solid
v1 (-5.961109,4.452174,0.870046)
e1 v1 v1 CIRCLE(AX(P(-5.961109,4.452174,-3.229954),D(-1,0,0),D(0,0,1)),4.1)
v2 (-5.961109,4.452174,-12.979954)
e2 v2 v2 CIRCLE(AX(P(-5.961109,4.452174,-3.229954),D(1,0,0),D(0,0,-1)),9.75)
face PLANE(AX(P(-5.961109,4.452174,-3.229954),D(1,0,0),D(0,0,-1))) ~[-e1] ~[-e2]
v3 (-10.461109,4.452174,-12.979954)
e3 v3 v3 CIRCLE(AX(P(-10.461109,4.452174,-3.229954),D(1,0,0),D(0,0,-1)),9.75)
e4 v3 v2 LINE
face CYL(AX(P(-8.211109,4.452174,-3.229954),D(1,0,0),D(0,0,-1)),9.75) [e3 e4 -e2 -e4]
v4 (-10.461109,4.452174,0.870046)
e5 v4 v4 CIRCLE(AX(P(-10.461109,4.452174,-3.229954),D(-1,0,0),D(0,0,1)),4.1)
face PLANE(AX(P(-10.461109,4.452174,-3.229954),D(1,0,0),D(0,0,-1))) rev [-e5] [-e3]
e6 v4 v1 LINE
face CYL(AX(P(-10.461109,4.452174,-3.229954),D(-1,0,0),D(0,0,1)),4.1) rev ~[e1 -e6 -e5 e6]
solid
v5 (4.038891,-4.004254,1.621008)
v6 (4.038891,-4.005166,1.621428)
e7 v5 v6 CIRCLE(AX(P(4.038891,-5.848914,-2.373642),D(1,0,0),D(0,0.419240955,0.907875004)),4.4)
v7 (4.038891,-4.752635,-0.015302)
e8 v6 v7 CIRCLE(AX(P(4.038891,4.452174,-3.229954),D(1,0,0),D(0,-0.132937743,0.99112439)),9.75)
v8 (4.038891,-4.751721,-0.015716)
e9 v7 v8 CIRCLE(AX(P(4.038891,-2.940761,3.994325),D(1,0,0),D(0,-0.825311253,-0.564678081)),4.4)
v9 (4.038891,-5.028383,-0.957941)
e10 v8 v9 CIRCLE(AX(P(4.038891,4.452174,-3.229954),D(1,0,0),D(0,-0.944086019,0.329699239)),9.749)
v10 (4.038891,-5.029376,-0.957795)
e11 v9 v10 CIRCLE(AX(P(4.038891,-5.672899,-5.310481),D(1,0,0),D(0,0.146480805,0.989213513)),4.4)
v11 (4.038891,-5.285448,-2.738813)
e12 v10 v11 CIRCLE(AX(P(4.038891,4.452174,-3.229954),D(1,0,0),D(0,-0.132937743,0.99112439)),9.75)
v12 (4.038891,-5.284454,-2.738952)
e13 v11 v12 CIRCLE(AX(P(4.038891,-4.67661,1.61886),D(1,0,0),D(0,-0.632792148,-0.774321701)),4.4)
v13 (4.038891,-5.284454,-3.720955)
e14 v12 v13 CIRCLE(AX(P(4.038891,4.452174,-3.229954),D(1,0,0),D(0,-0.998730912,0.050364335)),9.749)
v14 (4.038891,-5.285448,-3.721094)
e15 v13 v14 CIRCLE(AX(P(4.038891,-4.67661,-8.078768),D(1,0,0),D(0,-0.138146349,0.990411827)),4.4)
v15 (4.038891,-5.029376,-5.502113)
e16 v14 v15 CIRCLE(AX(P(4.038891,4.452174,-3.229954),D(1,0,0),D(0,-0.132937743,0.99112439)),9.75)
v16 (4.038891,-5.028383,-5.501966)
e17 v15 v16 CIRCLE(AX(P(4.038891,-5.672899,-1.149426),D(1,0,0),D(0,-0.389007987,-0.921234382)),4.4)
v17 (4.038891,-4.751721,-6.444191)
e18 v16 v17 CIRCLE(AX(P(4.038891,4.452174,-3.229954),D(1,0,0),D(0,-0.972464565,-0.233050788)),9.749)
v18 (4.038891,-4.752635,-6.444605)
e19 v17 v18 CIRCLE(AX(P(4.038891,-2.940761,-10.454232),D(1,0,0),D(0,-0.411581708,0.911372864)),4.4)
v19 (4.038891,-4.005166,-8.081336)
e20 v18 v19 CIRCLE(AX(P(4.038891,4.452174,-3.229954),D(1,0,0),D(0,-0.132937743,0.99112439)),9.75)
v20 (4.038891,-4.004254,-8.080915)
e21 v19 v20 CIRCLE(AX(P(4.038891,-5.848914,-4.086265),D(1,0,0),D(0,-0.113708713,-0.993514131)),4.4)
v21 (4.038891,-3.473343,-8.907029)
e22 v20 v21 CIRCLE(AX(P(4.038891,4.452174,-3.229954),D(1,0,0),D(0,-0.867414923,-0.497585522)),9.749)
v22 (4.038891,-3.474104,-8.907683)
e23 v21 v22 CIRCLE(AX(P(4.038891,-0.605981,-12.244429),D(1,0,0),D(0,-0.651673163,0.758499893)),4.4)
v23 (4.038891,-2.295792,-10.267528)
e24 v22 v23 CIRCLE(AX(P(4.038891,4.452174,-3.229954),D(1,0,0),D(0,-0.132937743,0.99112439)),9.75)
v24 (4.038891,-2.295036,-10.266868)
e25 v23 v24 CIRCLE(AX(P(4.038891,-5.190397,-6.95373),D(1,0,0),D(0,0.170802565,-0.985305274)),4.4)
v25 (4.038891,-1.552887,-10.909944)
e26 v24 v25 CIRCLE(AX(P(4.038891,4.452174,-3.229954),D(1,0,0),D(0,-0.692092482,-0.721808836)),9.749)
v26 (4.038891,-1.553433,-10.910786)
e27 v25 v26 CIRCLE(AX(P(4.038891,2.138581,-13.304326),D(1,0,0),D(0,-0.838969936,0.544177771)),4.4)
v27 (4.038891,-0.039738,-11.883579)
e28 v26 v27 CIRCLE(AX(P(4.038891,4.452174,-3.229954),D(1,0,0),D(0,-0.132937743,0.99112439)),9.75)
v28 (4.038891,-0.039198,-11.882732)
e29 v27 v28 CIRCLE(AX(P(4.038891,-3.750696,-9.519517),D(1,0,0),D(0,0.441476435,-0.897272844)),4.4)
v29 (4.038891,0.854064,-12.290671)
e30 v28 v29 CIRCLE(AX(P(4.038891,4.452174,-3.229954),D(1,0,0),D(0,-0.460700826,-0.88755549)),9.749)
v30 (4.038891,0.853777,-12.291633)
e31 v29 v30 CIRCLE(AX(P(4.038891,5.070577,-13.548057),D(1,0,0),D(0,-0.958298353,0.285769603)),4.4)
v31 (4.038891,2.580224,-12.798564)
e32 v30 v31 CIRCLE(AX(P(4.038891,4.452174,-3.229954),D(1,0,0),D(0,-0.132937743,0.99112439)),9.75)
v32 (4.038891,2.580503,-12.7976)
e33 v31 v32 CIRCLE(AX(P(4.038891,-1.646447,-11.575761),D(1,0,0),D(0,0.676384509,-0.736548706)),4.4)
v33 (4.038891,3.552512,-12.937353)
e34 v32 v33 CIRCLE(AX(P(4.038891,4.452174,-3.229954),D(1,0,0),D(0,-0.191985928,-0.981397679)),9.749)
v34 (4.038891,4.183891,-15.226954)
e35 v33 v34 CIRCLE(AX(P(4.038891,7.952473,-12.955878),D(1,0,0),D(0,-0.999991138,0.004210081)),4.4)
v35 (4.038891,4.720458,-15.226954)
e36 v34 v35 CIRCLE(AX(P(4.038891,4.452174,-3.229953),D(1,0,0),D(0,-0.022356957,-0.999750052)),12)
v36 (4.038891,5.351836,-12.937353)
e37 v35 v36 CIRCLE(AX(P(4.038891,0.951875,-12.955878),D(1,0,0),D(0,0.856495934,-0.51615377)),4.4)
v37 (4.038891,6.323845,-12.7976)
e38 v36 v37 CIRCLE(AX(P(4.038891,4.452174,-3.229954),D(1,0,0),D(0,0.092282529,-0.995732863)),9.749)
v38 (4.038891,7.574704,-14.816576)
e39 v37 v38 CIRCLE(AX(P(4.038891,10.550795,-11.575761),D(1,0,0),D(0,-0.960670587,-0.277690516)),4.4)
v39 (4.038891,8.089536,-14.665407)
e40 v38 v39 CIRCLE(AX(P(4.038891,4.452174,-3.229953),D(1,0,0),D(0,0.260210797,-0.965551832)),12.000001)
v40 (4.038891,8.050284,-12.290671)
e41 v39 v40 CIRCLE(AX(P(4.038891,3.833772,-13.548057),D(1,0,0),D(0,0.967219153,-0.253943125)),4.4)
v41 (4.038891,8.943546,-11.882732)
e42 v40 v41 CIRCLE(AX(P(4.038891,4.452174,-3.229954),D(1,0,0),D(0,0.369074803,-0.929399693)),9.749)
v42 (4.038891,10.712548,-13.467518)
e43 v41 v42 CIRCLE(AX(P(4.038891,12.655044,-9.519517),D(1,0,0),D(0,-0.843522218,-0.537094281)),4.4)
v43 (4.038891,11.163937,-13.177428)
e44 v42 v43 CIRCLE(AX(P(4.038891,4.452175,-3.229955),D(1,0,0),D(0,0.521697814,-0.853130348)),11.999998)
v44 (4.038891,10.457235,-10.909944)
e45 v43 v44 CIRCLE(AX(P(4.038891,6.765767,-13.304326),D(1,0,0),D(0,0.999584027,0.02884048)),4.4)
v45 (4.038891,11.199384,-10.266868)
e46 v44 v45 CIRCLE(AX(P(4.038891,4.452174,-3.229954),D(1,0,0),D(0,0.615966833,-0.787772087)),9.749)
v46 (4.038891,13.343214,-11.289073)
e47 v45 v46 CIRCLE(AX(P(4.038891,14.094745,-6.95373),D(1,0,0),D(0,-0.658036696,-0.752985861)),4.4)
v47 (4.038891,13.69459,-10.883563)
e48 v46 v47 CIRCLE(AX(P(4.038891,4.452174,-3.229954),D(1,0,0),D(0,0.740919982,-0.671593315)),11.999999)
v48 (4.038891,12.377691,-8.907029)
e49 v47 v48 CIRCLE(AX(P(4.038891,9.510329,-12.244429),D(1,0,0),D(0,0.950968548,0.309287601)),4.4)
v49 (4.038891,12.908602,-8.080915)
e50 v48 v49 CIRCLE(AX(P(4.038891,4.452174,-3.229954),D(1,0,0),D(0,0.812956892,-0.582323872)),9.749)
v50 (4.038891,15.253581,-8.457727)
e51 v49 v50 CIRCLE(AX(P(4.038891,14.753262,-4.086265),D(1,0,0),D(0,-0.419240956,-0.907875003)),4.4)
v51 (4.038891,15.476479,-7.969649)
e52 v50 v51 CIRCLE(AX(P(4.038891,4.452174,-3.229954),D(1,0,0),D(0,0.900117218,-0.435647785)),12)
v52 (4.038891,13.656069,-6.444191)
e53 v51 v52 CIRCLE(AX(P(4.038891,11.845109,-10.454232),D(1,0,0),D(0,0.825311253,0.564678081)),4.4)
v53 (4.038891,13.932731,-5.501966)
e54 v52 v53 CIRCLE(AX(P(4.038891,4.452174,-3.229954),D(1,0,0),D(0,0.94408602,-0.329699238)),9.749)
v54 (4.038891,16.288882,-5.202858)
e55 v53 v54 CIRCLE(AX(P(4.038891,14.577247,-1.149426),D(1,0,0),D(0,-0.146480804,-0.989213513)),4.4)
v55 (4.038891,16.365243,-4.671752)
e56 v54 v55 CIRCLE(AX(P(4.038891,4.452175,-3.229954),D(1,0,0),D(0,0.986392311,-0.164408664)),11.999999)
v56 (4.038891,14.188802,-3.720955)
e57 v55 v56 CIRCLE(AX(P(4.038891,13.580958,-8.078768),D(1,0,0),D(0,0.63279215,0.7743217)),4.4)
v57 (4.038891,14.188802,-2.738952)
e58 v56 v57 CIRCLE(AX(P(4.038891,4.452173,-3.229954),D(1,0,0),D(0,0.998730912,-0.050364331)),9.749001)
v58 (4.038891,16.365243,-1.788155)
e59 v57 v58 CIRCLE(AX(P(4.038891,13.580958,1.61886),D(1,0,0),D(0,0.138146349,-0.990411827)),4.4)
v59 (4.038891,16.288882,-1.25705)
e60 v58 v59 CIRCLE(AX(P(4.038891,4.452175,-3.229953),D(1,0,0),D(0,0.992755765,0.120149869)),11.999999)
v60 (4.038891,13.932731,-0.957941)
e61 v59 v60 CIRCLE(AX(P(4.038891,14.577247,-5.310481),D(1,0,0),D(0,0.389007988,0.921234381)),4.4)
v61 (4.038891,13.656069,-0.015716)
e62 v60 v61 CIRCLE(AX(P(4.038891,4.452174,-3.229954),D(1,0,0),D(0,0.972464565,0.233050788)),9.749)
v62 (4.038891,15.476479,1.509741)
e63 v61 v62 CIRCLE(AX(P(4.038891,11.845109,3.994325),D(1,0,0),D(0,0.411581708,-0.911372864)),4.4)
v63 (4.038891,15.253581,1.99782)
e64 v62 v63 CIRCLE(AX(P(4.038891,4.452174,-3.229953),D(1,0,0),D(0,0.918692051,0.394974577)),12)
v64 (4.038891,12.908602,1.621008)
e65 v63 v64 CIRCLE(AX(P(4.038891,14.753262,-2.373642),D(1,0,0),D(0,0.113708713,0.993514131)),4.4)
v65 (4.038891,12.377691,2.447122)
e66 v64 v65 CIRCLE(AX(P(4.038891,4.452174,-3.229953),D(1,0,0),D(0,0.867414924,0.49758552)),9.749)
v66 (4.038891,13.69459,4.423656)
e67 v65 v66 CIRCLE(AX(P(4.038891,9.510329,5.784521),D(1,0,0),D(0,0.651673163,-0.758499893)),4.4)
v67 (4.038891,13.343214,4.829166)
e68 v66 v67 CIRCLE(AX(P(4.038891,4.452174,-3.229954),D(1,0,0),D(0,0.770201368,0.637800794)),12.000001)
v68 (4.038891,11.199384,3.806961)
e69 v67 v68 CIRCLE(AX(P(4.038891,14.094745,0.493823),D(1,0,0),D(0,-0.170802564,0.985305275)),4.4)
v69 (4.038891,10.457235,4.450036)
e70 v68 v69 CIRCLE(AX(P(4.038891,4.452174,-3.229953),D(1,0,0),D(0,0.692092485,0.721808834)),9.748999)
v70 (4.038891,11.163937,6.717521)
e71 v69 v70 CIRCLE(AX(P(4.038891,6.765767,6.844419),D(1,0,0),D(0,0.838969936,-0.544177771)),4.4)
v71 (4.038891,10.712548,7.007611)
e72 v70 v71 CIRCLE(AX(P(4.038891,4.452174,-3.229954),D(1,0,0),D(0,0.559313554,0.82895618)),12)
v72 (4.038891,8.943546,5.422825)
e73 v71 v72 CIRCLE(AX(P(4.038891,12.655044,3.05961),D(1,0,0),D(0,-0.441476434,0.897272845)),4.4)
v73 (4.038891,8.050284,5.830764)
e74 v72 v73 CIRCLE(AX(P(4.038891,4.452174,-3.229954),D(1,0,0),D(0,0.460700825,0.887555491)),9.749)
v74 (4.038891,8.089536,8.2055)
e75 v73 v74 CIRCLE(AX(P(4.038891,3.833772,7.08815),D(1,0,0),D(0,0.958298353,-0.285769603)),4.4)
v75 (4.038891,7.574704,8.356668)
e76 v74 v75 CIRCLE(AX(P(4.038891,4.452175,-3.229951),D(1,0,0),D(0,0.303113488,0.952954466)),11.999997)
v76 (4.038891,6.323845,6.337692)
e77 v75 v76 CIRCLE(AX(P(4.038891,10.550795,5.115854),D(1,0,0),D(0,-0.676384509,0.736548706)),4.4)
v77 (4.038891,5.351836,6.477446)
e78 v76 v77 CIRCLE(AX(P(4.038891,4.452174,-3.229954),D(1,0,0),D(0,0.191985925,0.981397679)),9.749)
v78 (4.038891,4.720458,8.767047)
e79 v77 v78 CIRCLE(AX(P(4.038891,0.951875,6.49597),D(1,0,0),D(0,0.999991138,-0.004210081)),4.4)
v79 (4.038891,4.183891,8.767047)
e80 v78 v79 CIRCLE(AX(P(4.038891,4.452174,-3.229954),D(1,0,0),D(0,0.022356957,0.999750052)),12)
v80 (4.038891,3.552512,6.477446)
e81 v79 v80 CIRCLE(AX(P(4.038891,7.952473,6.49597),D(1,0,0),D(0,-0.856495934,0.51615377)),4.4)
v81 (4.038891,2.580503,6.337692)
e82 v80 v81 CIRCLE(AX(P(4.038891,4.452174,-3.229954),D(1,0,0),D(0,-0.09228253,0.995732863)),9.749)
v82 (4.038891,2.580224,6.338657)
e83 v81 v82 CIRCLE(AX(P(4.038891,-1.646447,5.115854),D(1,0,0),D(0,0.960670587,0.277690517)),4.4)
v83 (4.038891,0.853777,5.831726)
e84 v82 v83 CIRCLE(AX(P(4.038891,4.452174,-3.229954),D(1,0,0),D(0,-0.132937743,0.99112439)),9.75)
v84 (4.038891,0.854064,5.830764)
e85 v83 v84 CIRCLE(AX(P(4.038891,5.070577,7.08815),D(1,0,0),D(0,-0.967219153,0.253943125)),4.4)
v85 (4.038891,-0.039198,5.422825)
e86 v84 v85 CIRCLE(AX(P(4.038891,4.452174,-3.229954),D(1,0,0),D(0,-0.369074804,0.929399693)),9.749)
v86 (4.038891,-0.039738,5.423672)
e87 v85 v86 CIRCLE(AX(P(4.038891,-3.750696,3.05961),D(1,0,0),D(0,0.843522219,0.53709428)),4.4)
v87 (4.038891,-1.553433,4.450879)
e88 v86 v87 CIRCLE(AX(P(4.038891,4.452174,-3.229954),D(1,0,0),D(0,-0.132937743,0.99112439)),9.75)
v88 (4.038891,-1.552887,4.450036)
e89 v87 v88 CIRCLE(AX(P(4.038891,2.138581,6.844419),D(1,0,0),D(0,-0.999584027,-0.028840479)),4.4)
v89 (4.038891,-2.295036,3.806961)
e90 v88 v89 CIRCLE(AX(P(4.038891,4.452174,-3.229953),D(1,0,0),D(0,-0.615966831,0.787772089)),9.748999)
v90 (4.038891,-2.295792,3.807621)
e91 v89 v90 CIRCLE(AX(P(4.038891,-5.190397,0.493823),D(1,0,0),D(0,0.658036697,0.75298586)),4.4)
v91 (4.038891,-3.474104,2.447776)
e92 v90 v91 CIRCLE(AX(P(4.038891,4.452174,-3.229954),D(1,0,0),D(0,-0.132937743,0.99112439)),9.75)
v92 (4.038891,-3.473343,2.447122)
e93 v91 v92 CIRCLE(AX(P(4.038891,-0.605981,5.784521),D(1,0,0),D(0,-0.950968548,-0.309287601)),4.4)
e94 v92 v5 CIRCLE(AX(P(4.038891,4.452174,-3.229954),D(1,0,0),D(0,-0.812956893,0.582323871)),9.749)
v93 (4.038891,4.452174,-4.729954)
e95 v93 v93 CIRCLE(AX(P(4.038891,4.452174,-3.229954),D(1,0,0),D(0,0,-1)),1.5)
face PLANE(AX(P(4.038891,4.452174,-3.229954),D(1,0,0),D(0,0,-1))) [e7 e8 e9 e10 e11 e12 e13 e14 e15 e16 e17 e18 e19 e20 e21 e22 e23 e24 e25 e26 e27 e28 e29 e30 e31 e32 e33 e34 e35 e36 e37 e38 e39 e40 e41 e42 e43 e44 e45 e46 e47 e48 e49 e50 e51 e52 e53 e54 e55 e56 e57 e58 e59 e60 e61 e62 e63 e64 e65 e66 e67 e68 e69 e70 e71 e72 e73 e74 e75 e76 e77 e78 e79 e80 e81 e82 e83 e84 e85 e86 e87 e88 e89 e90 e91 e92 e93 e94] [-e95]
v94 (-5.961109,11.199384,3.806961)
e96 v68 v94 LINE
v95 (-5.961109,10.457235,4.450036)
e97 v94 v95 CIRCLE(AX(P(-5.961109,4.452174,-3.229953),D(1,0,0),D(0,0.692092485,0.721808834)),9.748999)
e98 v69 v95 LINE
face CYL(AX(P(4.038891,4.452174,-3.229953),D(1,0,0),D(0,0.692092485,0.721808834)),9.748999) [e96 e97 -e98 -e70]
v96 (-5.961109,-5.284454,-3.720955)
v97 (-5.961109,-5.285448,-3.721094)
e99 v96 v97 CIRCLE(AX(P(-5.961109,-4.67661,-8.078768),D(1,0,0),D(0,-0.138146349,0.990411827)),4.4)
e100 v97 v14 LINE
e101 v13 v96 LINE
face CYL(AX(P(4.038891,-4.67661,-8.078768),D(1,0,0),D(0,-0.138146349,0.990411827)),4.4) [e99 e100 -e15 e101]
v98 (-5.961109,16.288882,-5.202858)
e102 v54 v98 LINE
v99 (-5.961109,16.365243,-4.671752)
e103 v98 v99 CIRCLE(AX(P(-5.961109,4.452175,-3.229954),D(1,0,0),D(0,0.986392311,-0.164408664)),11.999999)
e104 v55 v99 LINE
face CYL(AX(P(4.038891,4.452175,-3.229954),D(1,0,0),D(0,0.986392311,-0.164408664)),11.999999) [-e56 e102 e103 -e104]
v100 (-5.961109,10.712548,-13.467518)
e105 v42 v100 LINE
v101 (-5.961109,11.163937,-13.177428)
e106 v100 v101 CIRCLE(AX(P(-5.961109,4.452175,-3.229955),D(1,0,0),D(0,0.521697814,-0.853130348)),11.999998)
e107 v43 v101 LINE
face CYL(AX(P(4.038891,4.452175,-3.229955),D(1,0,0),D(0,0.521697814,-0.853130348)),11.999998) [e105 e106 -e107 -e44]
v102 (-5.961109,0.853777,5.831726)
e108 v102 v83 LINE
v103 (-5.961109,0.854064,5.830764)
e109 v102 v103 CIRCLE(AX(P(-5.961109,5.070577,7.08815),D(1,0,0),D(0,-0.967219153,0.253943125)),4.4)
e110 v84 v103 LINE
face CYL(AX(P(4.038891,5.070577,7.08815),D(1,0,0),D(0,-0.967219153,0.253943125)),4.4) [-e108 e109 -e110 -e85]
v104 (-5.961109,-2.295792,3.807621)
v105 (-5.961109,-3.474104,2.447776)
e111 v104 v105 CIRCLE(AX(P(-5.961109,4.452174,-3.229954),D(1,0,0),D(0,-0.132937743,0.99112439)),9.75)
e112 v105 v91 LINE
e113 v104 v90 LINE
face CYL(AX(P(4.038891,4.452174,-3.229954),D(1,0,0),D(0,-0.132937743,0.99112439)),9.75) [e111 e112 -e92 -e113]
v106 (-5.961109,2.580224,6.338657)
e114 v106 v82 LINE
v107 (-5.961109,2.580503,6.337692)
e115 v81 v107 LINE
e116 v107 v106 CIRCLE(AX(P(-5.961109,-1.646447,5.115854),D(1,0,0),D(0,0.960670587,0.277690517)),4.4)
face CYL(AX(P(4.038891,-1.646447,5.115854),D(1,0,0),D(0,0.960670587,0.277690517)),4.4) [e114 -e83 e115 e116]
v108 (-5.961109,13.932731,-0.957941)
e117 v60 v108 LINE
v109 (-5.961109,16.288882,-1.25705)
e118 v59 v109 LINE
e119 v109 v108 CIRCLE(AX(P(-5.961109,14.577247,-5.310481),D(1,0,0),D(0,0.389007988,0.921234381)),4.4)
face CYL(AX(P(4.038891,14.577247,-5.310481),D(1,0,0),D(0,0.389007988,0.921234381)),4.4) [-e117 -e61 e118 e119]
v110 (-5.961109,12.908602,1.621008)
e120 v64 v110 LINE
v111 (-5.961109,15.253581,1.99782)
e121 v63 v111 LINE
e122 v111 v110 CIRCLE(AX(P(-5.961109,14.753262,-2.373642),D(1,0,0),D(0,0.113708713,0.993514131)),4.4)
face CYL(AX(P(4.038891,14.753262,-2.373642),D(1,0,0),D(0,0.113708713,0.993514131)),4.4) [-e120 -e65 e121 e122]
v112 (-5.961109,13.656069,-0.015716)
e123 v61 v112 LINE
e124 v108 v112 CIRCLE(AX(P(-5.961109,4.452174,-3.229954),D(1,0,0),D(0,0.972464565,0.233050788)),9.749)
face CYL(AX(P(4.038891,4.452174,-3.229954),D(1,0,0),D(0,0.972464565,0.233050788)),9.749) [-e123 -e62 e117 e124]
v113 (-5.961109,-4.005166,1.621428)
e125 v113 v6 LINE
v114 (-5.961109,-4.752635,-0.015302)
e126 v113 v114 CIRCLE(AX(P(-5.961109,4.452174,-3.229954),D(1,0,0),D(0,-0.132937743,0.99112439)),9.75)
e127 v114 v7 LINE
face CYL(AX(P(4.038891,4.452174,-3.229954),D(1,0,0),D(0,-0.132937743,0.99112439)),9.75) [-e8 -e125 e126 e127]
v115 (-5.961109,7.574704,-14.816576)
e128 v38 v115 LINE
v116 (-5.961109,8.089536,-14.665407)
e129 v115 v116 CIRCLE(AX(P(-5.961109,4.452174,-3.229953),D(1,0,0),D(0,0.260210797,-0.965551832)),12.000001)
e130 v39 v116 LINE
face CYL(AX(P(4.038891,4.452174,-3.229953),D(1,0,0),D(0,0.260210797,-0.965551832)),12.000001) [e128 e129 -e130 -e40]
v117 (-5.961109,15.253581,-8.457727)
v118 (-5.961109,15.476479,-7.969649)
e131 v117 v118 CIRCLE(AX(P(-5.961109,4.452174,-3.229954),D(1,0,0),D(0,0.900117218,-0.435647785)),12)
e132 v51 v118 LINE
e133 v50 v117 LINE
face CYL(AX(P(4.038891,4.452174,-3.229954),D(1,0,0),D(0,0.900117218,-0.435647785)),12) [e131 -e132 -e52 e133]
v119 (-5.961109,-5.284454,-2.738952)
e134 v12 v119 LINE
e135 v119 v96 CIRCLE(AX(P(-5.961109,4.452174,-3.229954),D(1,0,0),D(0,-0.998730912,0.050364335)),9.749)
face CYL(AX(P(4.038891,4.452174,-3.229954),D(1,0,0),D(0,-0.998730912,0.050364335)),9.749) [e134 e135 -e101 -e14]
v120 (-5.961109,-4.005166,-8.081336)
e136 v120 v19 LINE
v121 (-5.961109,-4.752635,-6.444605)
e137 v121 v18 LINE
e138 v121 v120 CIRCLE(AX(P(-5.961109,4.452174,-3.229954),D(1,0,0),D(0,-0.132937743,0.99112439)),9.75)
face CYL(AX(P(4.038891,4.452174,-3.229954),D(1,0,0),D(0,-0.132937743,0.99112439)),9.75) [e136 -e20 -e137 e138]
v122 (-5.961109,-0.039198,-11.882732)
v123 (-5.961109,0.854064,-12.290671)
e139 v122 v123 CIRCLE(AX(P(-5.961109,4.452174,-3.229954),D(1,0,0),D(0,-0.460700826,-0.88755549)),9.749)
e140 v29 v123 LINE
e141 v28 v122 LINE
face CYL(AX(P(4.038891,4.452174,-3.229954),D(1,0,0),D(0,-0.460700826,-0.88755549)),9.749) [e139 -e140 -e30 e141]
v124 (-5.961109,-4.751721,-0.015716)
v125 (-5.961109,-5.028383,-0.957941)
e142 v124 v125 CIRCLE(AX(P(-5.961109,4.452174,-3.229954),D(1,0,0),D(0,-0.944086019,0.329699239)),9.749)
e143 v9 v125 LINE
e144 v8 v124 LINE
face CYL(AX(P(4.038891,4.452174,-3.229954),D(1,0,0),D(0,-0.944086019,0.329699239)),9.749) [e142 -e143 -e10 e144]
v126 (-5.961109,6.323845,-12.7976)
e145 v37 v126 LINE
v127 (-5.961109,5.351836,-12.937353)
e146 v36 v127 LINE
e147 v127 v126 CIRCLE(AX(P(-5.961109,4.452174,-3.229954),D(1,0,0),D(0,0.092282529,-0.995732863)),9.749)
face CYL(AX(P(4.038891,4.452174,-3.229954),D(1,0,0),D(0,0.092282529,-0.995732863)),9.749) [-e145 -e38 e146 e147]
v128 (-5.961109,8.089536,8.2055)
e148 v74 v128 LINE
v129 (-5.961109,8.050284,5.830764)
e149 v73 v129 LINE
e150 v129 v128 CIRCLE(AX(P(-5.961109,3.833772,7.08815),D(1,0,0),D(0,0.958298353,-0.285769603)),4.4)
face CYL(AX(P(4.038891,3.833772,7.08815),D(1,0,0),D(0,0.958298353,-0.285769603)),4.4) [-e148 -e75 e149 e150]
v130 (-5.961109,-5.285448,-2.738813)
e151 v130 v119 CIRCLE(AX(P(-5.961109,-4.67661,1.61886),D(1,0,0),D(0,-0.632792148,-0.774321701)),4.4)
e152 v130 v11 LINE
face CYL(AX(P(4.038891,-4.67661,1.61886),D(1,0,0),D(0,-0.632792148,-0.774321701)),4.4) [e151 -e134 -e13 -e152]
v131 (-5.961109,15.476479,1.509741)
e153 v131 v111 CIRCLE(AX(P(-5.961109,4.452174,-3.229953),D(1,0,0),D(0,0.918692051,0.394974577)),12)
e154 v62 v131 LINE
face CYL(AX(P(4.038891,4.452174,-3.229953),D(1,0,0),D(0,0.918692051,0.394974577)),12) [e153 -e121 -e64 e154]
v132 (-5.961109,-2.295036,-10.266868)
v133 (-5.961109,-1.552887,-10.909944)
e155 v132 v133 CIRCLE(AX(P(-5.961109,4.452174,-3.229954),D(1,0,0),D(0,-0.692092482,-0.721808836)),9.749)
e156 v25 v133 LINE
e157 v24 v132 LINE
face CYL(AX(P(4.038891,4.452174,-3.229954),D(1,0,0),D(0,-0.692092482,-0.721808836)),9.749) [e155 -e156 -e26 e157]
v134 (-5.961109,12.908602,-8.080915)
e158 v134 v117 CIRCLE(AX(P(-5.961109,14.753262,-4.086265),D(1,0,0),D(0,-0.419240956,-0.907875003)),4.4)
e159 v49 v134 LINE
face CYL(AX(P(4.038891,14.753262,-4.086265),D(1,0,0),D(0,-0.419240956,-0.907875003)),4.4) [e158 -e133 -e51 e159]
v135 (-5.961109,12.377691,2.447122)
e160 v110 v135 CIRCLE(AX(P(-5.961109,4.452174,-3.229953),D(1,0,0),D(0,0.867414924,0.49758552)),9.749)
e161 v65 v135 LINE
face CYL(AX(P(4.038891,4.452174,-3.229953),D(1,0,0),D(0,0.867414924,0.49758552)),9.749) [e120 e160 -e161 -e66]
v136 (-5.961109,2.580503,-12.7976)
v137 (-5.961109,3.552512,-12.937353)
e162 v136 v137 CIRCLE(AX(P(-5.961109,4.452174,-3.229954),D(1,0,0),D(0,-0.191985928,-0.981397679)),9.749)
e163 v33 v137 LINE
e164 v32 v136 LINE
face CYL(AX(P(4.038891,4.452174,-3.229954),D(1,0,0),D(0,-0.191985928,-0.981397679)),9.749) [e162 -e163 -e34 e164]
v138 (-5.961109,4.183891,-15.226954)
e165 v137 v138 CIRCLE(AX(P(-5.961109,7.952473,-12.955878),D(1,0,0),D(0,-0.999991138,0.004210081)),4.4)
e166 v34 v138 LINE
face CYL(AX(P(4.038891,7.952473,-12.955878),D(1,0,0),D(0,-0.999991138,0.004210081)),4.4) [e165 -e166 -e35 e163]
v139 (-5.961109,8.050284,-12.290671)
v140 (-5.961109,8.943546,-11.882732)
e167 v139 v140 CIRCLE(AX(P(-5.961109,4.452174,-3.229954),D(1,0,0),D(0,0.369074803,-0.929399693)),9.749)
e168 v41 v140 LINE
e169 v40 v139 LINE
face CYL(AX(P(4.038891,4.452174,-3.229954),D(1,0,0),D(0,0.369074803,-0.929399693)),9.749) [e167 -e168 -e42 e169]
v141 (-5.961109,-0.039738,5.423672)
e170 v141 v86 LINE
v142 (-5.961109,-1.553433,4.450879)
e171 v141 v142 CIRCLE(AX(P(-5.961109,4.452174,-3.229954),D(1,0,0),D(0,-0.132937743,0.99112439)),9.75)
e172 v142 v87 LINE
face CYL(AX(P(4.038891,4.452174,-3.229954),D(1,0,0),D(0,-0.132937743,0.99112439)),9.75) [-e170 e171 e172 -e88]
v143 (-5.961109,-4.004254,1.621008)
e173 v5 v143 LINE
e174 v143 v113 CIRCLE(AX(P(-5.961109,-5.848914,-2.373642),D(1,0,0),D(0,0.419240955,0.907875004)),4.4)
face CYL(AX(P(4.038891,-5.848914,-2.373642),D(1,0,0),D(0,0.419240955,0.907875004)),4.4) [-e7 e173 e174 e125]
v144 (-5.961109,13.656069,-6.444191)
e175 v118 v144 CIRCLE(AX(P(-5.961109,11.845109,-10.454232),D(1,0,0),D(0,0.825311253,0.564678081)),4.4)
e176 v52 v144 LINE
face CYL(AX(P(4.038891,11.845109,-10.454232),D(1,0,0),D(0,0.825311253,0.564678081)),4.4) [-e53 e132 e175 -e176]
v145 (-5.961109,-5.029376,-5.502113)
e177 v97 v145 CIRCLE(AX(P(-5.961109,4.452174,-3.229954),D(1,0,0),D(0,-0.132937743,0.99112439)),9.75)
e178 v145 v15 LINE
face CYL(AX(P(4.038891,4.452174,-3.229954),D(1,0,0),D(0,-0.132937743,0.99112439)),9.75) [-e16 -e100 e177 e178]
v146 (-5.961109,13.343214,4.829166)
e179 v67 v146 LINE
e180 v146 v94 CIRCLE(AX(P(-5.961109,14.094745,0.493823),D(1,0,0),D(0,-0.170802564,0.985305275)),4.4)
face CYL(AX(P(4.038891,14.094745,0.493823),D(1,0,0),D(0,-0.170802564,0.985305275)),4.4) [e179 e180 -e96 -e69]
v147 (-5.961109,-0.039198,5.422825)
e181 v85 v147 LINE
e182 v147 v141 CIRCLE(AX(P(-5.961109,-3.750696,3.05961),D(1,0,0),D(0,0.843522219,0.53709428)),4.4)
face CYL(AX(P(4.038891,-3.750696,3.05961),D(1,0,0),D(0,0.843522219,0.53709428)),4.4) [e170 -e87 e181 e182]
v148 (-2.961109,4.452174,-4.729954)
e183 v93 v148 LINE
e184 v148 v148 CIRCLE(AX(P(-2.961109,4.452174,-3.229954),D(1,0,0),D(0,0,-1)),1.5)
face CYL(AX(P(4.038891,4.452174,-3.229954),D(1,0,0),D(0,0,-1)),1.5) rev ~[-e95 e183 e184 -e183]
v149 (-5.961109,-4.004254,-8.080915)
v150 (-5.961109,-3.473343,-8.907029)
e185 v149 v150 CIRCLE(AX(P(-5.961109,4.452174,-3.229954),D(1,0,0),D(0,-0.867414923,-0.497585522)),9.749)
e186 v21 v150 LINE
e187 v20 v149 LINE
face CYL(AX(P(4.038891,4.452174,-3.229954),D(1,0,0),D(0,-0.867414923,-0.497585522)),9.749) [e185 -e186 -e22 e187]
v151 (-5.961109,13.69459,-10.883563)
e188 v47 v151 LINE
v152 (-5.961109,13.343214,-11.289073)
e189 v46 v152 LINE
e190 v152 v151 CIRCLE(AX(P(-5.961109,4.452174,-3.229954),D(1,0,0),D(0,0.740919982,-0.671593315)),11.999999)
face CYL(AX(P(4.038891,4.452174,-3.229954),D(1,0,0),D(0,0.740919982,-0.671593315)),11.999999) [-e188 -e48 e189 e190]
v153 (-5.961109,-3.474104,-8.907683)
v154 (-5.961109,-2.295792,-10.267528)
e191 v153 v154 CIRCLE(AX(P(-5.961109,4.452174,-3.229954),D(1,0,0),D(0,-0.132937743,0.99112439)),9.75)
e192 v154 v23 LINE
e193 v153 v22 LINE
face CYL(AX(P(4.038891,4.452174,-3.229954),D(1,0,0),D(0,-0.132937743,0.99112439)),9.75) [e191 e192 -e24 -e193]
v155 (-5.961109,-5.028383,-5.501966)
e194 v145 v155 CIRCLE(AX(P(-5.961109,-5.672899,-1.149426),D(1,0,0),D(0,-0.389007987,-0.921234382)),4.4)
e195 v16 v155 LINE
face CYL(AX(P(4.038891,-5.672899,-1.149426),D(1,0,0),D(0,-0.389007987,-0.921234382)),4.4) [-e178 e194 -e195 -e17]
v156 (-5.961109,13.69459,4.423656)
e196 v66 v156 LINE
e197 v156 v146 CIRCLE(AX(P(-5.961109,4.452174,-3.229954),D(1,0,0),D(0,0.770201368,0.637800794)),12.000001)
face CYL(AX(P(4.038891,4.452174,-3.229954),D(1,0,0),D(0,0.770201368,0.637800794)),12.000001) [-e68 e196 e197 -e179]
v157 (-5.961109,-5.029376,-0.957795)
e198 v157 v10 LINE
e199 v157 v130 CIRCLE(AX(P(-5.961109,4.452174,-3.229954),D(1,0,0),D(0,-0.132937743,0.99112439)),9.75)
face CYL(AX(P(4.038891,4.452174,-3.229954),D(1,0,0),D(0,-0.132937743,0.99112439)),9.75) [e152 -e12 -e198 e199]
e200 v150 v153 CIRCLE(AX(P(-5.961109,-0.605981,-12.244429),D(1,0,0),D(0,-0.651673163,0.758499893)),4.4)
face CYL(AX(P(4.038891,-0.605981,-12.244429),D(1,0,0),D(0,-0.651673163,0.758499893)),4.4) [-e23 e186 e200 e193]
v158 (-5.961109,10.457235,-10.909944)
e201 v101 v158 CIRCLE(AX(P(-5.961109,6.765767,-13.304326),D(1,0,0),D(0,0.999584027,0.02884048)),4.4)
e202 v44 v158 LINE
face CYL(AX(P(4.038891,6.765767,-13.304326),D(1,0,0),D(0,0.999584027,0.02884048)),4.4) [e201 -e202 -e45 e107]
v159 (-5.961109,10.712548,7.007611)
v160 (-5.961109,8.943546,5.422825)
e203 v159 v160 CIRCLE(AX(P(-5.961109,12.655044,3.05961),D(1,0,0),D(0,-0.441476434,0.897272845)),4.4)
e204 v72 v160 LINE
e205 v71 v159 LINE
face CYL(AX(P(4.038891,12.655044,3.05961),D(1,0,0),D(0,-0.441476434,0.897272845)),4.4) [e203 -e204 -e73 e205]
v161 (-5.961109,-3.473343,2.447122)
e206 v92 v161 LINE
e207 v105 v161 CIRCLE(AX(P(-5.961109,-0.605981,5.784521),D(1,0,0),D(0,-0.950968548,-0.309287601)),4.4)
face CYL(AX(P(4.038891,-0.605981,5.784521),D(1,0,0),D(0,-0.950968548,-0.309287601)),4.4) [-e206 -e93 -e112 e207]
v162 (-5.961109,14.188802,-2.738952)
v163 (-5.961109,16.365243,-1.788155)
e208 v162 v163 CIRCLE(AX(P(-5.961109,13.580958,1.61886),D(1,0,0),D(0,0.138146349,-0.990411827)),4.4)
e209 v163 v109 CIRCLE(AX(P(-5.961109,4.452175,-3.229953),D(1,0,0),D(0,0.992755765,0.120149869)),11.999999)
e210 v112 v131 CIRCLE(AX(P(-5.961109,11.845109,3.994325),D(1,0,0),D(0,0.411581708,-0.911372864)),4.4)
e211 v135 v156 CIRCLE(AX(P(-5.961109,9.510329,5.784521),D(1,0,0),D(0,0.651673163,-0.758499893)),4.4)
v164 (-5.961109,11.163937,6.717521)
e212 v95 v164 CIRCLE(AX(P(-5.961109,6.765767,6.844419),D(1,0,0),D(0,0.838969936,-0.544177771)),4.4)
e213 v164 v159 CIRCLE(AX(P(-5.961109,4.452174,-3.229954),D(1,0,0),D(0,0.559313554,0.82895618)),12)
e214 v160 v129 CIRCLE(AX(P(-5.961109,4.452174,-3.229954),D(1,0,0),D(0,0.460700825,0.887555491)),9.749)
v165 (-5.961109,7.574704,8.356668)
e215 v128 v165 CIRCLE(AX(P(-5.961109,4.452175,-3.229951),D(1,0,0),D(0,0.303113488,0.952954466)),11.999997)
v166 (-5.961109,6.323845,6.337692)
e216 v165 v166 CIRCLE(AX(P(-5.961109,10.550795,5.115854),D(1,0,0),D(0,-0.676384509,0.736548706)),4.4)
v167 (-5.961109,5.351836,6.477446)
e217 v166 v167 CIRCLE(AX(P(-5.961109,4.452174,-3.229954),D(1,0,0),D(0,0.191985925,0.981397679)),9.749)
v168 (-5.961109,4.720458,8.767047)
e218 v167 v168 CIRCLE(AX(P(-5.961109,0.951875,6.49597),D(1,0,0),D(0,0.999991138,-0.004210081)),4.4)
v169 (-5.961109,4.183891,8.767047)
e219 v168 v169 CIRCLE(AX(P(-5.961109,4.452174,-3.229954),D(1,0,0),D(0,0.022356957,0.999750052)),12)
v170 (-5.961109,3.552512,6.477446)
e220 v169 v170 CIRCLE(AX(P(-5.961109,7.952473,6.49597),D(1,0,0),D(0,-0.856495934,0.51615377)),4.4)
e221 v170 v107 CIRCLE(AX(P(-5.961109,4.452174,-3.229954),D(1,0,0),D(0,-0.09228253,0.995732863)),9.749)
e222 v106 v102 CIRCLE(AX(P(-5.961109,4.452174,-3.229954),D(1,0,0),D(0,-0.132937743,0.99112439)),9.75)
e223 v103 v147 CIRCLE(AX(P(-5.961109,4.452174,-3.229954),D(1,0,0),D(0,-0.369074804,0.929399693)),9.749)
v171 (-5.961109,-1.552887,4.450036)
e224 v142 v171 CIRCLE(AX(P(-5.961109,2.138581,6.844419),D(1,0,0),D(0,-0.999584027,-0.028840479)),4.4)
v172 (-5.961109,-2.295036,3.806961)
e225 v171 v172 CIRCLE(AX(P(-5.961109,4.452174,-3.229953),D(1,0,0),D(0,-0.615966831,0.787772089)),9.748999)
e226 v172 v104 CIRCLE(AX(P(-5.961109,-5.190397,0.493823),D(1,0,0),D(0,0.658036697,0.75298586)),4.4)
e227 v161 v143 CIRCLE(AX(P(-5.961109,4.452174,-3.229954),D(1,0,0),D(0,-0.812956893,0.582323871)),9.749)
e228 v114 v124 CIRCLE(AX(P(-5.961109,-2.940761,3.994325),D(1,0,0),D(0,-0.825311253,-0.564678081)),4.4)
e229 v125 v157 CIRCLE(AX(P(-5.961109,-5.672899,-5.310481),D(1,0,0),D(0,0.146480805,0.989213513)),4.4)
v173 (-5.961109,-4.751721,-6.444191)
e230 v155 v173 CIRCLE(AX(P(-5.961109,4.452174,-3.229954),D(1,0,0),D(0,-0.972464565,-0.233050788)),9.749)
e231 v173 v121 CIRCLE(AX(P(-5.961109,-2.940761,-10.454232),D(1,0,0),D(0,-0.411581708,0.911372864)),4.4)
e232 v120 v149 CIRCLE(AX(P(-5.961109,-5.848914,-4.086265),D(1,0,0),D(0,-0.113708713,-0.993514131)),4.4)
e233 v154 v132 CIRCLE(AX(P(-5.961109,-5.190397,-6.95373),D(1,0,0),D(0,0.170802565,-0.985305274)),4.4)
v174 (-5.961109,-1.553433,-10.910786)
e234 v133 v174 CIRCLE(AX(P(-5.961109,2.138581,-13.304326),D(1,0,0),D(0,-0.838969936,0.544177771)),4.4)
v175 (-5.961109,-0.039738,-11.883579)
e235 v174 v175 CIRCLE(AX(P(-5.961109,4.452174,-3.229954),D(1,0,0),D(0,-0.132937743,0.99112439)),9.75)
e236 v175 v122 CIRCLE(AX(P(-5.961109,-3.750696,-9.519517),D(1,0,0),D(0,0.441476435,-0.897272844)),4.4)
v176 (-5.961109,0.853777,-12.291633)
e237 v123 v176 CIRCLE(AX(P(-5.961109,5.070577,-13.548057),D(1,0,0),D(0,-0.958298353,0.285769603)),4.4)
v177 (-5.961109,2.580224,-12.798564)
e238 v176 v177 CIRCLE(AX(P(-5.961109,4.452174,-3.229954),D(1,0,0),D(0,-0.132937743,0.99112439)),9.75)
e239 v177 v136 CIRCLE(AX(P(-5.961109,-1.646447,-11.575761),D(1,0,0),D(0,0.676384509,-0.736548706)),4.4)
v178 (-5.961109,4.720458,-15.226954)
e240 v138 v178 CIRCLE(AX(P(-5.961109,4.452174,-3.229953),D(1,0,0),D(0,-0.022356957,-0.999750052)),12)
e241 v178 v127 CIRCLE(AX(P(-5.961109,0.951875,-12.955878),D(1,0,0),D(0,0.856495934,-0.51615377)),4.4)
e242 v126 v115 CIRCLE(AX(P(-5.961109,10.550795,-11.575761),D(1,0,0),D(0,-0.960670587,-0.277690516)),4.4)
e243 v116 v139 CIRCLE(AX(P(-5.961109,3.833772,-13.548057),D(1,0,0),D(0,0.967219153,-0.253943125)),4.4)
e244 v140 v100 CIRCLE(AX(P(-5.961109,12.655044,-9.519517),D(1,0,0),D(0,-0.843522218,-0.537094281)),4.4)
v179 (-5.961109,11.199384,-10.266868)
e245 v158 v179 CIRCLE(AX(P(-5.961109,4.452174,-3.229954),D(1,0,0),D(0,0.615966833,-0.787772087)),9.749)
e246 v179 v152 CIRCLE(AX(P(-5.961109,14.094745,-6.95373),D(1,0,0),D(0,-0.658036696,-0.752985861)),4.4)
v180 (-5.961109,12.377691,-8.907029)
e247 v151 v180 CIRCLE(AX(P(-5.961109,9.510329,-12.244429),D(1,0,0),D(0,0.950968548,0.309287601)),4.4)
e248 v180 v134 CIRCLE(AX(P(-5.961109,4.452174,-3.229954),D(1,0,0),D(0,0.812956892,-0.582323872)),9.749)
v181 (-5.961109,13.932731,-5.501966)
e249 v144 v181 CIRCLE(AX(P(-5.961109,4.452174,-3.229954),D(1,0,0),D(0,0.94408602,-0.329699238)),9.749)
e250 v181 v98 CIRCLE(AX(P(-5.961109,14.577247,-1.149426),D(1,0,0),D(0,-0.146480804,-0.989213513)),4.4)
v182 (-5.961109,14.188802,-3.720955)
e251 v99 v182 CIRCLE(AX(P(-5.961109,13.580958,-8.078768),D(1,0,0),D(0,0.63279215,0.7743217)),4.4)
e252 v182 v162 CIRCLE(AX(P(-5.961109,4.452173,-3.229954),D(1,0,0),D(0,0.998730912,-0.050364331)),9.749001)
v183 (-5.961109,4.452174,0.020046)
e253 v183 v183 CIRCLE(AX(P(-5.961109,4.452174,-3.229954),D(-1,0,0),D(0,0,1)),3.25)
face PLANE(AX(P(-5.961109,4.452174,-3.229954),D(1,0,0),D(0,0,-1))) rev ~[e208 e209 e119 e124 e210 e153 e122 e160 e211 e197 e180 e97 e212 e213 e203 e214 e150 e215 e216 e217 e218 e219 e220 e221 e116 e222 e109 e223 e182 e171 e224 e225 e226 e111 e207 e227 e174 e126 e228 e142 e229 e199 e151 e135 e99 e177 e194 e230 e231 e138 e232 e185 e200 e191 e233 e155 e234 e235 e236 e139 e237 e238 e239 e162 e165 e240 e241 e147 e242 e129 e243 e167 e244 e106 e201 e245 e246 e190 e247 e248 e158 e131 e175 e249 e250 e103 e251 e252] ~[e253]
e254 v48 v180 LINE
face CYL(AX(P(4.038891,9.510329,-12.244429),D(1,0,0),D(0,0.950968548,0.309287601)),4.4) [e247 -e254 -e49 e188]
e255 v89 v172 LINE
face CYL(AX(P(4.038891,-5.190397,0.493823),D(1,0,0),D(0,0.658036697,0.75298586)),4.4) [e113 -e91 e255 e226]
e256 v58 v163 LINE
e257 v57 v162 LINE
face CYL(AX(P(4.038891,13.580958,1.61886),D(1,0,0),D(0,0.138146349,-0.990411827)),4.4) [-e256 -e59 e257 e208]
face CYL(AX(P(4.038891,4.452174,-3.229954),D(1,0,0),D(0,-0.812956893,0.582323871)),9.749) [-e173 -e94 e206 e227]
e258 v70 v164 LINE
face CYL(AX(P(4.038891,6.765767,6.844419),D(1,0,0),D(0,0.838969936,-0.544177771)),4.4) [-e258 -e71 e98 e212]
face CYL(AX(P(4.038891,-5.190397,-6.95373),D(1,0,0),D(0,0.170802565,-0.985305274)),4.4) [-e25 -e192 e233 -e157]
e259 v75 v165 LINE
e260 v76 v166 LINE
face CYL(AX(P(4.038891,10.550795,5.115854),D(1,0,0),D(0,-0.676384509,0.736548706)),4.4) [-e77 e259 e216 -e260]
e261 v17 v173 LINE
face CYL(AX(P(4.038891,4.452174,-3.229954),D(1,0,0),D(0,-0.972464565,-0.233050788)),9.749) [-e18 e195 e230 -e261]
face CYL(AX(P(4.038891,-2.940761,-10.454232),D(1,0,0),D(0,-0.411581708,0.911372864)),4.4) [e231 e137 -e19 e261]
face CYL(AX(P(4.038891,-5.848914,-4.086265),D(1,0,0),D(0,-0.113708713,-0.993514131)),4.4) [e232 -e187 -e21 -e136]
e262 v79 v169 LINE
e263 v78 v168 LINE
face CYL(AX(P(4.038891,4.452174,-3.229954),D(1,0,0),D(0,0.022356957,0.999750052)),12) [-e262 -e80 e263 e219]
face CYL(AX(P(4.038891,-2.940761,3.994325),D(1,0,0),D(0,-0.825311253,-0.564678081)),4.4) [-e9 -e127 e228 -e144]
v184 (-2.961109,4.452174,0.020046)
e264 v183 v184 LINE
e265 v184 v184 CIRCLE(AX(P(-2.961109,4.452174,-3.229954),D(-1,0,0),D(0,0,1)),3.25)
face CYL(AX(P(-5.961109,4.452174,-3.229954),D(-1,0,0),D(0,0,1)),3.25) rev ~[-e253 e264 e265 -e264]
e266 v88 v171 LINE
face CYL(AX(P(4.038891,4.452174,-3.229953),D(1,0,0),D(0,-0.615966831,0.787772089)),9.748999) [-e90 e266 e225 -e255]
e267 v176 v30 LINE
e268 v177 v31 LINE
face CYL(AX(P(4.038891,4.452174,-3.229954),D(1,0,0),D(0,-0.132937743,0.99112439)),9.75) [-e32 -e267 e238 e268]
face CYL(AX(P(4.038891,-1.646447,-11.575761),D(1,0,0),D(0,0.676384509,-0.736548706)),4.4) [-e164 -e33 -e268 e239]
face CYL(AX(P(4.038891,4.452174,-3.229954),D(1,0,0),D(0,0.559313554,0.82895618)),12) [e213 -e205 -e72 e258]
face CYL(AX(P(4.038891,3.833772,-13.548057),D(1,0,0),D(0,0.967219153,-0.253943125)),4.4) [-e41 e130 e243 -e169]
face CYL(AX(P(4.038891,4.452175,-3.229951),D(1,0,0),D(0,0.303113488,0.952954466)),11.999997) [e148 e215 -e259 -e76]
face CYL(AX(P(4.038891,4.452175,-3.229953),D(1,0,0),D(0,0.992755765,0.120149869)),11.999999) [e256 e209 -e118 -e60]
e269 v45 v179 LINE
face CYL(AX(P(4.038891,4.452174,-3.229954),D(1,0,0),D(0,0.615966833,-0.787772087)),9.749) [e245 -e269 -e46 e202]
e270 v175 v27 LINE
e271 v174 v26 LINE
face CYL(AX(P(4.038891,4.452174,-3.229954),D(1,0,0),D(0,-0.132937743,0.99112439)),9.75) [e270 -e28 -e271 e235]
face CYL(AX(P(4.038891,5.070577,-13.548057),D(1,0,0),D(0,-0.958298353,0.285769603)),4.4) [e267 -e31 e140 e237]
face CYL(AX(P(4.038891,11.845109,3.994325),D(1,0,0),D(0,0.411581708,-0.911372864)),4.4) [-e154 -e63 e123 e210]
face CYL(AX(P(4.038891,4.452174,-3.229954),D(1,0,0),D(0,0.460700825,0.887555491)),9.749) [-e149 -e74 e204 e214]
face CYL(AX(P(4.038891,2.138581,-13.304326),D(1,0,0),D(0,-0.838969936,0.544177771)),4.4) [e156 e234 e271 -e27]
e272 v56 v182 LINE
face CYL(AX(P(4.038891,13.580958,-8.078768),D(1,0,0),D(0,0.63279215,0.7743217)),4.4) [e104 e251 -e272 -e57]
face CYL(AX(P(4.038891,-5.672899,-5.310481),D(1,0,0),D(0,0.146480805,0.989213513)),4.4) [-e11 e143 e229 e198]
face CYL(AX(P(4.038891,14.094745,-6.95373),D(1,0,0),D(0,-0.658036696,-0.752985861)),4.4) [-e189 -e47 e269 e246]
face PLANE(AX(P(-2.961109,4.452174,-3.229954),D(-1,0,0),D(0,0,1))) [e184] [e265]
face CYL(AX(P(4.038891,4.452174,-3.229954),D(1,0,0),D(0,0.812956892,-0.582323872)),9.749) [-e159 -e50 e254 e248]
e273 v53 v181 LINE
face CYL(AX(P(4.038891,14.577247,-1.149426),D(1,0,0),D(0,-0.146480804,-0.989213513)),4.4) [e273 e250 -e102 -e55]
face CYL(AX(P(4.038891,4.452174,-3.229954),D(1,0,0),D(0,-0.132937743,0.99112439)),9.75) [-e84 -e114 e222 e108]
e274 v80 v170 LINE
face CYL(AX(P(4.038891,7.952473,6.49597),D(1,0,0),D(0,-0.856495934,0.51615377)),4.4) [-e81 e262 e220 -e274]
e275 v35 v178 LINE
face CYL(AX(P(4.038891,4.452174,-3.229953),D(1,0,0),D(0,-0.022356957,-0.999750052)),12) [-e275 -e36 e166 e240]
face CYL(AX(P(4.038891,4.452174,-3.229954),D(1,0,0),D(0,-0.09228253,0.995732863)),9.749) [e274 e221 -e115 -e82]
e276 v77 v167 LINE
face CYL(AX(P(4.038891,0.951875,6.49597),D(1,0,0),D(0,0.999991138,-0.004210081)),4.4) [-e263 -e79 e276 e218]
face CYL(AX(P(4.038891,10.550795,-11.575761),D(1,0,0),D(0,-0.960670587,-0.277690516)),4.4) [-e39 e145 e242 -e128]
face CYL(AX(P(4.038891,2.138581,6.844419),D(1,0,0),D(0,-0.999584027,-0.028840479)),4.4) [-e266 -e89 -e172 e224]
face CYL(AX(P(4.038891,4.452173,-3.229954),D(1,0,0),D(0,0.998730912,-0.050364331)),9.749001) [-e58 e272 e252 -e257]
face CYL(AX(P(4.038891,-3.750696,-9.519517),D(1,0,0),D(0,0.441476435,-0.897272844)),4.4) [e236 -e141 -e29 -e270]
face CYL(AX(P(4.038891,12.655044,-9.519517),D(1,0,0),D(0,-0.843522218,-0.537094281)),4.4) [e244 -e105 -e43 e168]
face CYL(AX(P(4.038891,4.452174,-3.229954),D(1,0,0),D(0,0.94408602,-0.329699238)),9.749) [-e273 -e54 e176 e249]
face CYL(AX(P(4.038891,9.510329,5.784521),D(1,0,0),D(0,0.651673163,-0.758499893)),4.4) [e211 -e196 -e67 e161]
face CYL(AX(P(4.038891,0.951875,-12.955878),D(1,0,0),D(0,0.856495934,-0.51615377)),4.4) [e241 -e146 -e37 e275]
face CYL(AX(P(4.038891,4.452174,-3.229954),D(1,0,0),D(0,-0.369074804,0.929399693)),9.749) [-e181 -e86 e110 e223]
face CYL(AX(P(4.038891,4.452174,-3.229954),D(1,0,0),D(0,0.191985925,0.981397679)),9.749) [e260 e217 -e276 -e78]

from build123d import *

# Parameters (mm, degrees)
SKETCH5_R           = 1.5
BOSS_EXTRUDE1_DEPTH = 10
SKETCH10_W          = 4.5
SKETCH10_H          = 6.3
CUT_EXTRUDE1_DEPTH  = 10
SKETCH13_R          = 4.1
CUT_EXTRUDE2_DEPTH  = 4.5
SKETCH14_R          = 3.25
CUT_EXTRUDE3_DEPTH  = 3


with BuildPart() as part:
    # Sketch5 → Boss-Extrude1 (new body)
    with BuildSketch(Plane(origin=(4.038890567, 0, 0), x_dir=(0, 0, -1), z_dir=(1, 0, 0))):
        with BuildLine():
            ThreePointArc((-8.767047038, 4.183890551), (-7.665653193, 3.710793481), (-6.477446097, 3.552511658))
            ThreePointArc((-6.477446097, 3.552511658), (-6.419815651, 3.06474668), (-6.337692385, 2.580503238))
            ThreePointArc((-6.337692385, 2.580503238), (-7.433175602, 2.093876318), (-8.35666841, 1.329644499))
            ThreePointArc((-8.35666841, 1.329644499), (-8.283962098, 1.071383356), (-8.205500024, 0.814812257))
            ThreePointArc((-8.205500024, 0.814812257), (-7.015433522, 0.671177447), (-5.830764019, 0.854063773))
            ThreePointArc((-5.830764019, 0.854063773), (-5.638048737, 0.402293077), (-5.422824897, -0.039198306))
            ThreePointArc((-5.422824897, -0.039198306), (-6.3368347, -0.814746704), (-7.007610576, -1.808199754))
            ThreePointArc((-7.007610576, -1.808199754), (-6.865088808, -2.035515771), (-6.717520569, -2.259588617))
            ThreePointArc((-6.717520569, -2.259588617), (-5.535193519, -2.06212473), (-4.450036487, -1.552886617))
            ThreePointArc((-4.450036487, -1.552886617), (-4.137849015, -1.932063257), (-3.806960756, -2.295035573))
            ThreePointArc((-3.806960756, -2.295035573), (-4.465449507, -3.296675131), (-4.829166179, -4.438865755))
            ThreePointArc((-4.829166179, -4.438865755), (-4.628375221, -4.616820854), (-4.423655917, -4.790242398))
            ThreePointArc((-4.423655917, -4.790242398), (-3.344853426, -4.267677163), (-2.447121834, -3.473342707))
            ThreePointArc((-2.447121834, -3.473342707), (-2.040753744, -3.749206653), (-1.621007666, -4.004254045))
            ThreePointArc((-1.621007666, -4.004254045), (-1.970628521, -5.150837883), (-1.997819828, -6.349232589))
            ThreePointArc((-1.997819828, -6.349232589), (-1.75502657, -6.463409906), (-1.50974134, -6.572130566))
            ThreePointArc((-1.50974134, -6.572130566), (-0.62186157, -5.76679911), (0.015715707, -4.751720564))
            ThreePointArc((0.015715707, -4.751720564), (0.483342889, -4.901922961), (0.957941455, -5.028383006))
            ThreePointArc((0.957941455, -5.028383006), (0.945512697, -6.22702172), (1.257049634, -7.384533696))
            ThreePointArc((1.257049634, -7.384533696), (1.522175527, -7.425683264), (1.788155131, -7.460895139))
            ThreePointArc((1.788155131, -7.460895139), (2.413181441, -6.438040628), (2.738951684, -5.284453619))
            ThreePointArc((2.738951684, -5.284453619), (3.229953586, -5.296825962), (3.720955487, -5.284453619))
            ThreePointArc((3.720955487, -5.284453619), (4.04672573, -6.438040628), (4.671752041, -7.460895139))
            ThreePointArc((4.671752041, -7.460895139), (4.937731645, -7.425683264), (5.202857538, -7.384533696))
            ThreePointArc((5.202857538, -7.384533696), (5.514394474, -6.22702172), (5.501965716, -5.028383006))
            ThreePointArc((5.501965716, -5.028383006), (5.976564282, -4.901922961), (6.444191465, -4.751720564))
            ThreePointArc((6.444191465, -4.751720564), (7.081768742, -5.76679911), (7.969648512, -6.572130566))
            ThreePointArc((7.969648512, -6.572130566), (8.214933742, -6.463409906), (8.457727, -6.349232589))
            ThreePointArc((8.457727, -6.349232589), (8.430535693, -5.150837883), (8.080914837, -4.004254045))
            ThreePointArc((8.080914837, -4.004254045), (8.500660915, -3.749206653), (8.907029006, -3.473342707))
            ThreePointArc((8.907029006, -3.473342707), (9.804760597, -4.267677163), (10.883563088, -4.790242398))
            ThreePointArc((10.883563088, -4.790242398), (11.088282393, -4.616820854), (11.289073351, -4.438865755))
            ThreePointArc((11.289073351, -4.438865755), (10.925356678, -3.296675131), (10.266867928, -2.295035573))
            ThreePointArc((10.266867928, -2.295035573), (10.597756186, -1.932063257), (10.909943659, -1.552886617))
            ThreePointArc((10.909943659, -1.552886617), (11.995100691, -2.06212473), (13.17742774, -2.259588617))
            ThreePointArc((13.17742774, -2.259588617), (13.32499598, -2.035515771), (13.467517748, -1.808199754))
            ThreePointArc((13.467517748, -1.808199754), (12.796741871, -0.814746704), (11.882732068, -0.039198306))
            ThreePointArc((11.882732068, -0.039198306), (12.097955909, 0.402293077), (12.290671191, 0.854063773))
            ThreePointArc((12.290671191, 0.854063773), (13.475340694, 0.671177447), (14.665407196, 0.814812257))
            ThreePointArc((14.665407196, 0.814812257), (14.743869269, 1.071383356), (14.816575582, 1.329644499))
            ThreePointArc((14.816575582, 1.329644499), (13.893082774, 2.093876318), (12.797599556, 2.580503238))
            ThreePointArc((12.797599556, 2.580503238), (12.879722823, 3.06474668), (12.937353269, 3.552511658))
            ThreePointArc((12.937353269, 3.552511658), (14.125560365, 3.710793481), (15.22695421, 4.183890551))
            ThreePointArc((15.22695421, 4.183890551), (15.229953586, 4.452174038), (15.22695421, 4.720457526))
            ThreePointArc((15.22695421, 4.720457526), (14.125560365, 5.193554596), (12.937353269, 5.351836419))
            ThreePointArc((12.937353269, 5.351836419), (12.879722823, 5.839601397), (12.797599556, 6.323844839))
            ThreePointArc((12.797599556, 6.323844839), (13.893082774, 6.810471759), (14.816575582, 7.574703578))
            ThreePointArc((14.816575582, 7.574703578), (14.743869269, 7.832964721), (14.665407196, 8.08953582))
            ThreePointArc((14.665407196, 8.08953582), (13.475340694, 8.23317063), (12.290671191, 8.050284304))
            ThreePointArc((12.290671191, 8.050284304), (12.097955909, 8.502055), (11.882732068, 8.943546382))
            ThreePointArc((11.882732068, 8.943546382), (12.796741871, 9.719094781), (13.467517748, 10.712547831))
            ThreePointArc((13.467517748, 10.712547831), (13.32499598, 10.939863848), (13.17742774, 11.163936694))
            ThreePointArc((13.17742774, 11.163936694), (11.995100691, 10.966472807), (10.909943659, 10.457234694))
            ThreePointArc((10.909943659, 10.457234694), (10.597756186, 10.836411334), (10.266867928, 11.19938365))
            ThreePointArc((10.266867928, 11.19938365), (10.925356678, 12.201023208), (11.289073351, 13.343213832))
            ThreePointArc((11.289073351, 13.343213832), (11.088282393, 13.521168931), (10.883563088, 13.694590475))
            ThreePointArc((10.883563088, 13.694590475), (9.804760597, 13.17202524), (8.907029006, 12.377690783))
            ThreePointArc((8.907029006, 12.377690783), (8.500660915, 12.65355473), (8.080914837, 12.908602122))
            ThreePointArc((8.080914837, 12.908602122), (8.430535693, 14.05518596), (8.457727, 15.253580666))
            ThreePointArc((8.457727, 15.253580666), (8.214933742, 15.367757983), (7.969648512, 15.476478643))
            ThreePointArc((7.969648512, 15.476478643), (7.081768742, 14.671147187), (6.444191465, 13.656068641))
            ThreePointArc((6.444191465, 13.656068641), (5.976564282, 13.806271038), (5.501965716, 13.932731083))
            ThreePointArc((5.501965716, 13.932731083), (5.514394474, 15.131369796), (5.202857538, 16.288881773))
            ThreePointArc((5.202857538, 16.288881773), (4.937731645, 16.330031341), (4.671752041, 16.365243215))
            ThreePointArc((4.671752041, 16.365243215), (4.04672573, 15.342388705), (3.720955487, 14.188801696))
            ThreePointArc((3.720955487, 14.188801696), (3.229953586, 14.201174038), (2.738951684, 14.188801696))
            ThreePointArc((2.738951684, 14.188801696), (2.413181441, 15.342388705), (1.788155131, 16.365243215))
            ThreePointArc((1.788155131, 16.365243215), (1.522175527, 16.330031341), (1.257049634, 16.288881773))
            ThreePointArc((1.257049634, 16.288881773), (0.945512697, 15.131369796), (0.957941455, 13.932731083))
            ThreePointArc((0.957941455, 13.932731083), (0.483342889, 13.806271038), (0.015715707, 13.656068641))
            ThreePointArc((0.015715707, 13.656068641), (-0.62186157, 14.671147187), (-1.50974134, 15.476478643))
            ThreePointArc((-1.50974134, 15.476478643), (-1.75502657, 15.367757983), (-1.997819828, 15.253580666))
            ThreePointArc((-1.997819828, 15.253580666), (-1.970628521, 14.05518596), (-1.621007666, 12.908602122))
            ThreePointArc((-1.621007666, 12.908602122), (-2.040753744, 12.65355473), (-2.447121834, 12.377690783))
            ThreePointArc((-2.447121834, 12.377690783), (-3.344853426, 13.17202524), (-4.423655917, 13.694590475))
            ThreePointArc((-4.423655917, 13.694590475), (-4.628375221, 13.521168931), (-4.829166179, 13.343213832))
            ThreePointArc((-4.829166179, 13.343213832), (-4.465449507, 12.201023208), (-3.806960756, 11.19938365))
            ThreePointArc((-3.806960756, 11.19938365), (-4.137849015, 10.836411334), (-4.450036487, 10.457234694))
            ThreePointArc((-4.450036487, 10.457234694), (-5.535193519, 10.966472807), (-6.717520569, 11.163936694))
            ThreePointArc((-6.717520569, 11.163936694), (-6.865088808, 10.939863848), (-7.007610576, 10.712547831))
            ThreePointArc((-7.007610576, 10.712547831), (-6.3368347, 9.719094781), (-5.422824897, 8.943546382))
            ThreePointArc((-5.422824897, 8.943546382), (-5.638048737, 8.502055), (-5.830764019, 8.050284304))
            ThreePointArc((-5.830764019, 8.050284304), (-7.015433522, 8.23317063), (-8.205500024, 8.08953582))
            ThreePointArc((-8.205500024, 8.08953582), (-8.283962098, 7.832964721), (-8.35666841, 7.574703578))
            ThreePointArc((-8.35666841, 7.574703578), (-7.433175602, 6.810471759), (-6.337692385, 6.323844839))
            ThreePointArc((-6.337692385, 6.323844839), (-6.419815651, 5.839601397), (-6.477446097, 5.351836419))
            ThreePointArc((-6.477446097, 5.351836419), (-7.665653193, 5.193554596), (-8.767047038, 4.720457526))
            ThreePointArc((-8.767047038, 4.720457526), (-8.770046414, 4.452174038), (-8.767047038, 4.183890551))
        make_face()
        with Locations((3.229953586, 4.452174038)):
            Circle(SKETCH5_R, mode=Mode.SUBTRACT)
    extrude(amount=-BOSS_EXTRUDE1_DEPTH)

    # Sketch11 → Cut-Extrude1 (cut)
    with BuildSketch(Plane(origin=(4.038890567, 0, 0), x_dir=(0, 0, -1), z_dir=(1, 0, 0))):
        with BuildLine():
            Line((-9.20266534, 3.156031046), (-6.433509217, 3.156031046))
            ThreePointArc((-6.433509217, 3.156031046), (3.229953586, -5.297825962), (12.893416389, 3.156031046))
            Line((12.893416389, 3.156031046), (15.662572511, 3.156031046))
            ThreePointArc((15.662572511, 3.156031046), (3.229953586, -8.047825962), (-9.20266534, 3.156031046))
        make_face()
    extrude(amount=-CUT_EXTRUDE1_DEPTH, mode=Mode.SUBTRACT)

    # Sketch14 → Cut-Extrude3 (cut)
    with BuildSketch(Plane.ZY.offset(5.961109433)):
        with Locations((-3.229953586, 4.452174038)):
            Circle(SKETCH14_R)
    extrude(amount=-CUT_EXTRUDE3_DEPTH, mode=Mode.SUBTRACT)


with BuildPart() as body_2:
    # Sketch10 → Revolve2 (revolve)
    with BuildSketch(Plane.XY.offset(-3.229953586), mode=Mode.PRIVATE) as revolve2_sk:
        with Locations((-8.211109433, 11.052174038)):
            Rectangle(SKETCH10_W, SKETCH10_H)
    revolve(revolve2_sk.sketch.rotate(Axis((-10.461109433, 4.452174038, -3.229953586), (1, 0, 0)), 270), axis=Axis((-10.461109433, 4.452174038, -3.229953586), (1, 0, 0)))

    # Sketch13 → Cut-Extrude2 (cut)
    with BuildSketch(Plane.ZY.offset(10.461109433)):
        with Locations((-3.229953586, 4.452174038)):
            Circle(SKETCH13_R)
    extrude(amount=-CUT_EXTRUDE2_DEPTH, mode=Mode.SUBTRACT)


solid = Compound([part.part, body_2.part])
